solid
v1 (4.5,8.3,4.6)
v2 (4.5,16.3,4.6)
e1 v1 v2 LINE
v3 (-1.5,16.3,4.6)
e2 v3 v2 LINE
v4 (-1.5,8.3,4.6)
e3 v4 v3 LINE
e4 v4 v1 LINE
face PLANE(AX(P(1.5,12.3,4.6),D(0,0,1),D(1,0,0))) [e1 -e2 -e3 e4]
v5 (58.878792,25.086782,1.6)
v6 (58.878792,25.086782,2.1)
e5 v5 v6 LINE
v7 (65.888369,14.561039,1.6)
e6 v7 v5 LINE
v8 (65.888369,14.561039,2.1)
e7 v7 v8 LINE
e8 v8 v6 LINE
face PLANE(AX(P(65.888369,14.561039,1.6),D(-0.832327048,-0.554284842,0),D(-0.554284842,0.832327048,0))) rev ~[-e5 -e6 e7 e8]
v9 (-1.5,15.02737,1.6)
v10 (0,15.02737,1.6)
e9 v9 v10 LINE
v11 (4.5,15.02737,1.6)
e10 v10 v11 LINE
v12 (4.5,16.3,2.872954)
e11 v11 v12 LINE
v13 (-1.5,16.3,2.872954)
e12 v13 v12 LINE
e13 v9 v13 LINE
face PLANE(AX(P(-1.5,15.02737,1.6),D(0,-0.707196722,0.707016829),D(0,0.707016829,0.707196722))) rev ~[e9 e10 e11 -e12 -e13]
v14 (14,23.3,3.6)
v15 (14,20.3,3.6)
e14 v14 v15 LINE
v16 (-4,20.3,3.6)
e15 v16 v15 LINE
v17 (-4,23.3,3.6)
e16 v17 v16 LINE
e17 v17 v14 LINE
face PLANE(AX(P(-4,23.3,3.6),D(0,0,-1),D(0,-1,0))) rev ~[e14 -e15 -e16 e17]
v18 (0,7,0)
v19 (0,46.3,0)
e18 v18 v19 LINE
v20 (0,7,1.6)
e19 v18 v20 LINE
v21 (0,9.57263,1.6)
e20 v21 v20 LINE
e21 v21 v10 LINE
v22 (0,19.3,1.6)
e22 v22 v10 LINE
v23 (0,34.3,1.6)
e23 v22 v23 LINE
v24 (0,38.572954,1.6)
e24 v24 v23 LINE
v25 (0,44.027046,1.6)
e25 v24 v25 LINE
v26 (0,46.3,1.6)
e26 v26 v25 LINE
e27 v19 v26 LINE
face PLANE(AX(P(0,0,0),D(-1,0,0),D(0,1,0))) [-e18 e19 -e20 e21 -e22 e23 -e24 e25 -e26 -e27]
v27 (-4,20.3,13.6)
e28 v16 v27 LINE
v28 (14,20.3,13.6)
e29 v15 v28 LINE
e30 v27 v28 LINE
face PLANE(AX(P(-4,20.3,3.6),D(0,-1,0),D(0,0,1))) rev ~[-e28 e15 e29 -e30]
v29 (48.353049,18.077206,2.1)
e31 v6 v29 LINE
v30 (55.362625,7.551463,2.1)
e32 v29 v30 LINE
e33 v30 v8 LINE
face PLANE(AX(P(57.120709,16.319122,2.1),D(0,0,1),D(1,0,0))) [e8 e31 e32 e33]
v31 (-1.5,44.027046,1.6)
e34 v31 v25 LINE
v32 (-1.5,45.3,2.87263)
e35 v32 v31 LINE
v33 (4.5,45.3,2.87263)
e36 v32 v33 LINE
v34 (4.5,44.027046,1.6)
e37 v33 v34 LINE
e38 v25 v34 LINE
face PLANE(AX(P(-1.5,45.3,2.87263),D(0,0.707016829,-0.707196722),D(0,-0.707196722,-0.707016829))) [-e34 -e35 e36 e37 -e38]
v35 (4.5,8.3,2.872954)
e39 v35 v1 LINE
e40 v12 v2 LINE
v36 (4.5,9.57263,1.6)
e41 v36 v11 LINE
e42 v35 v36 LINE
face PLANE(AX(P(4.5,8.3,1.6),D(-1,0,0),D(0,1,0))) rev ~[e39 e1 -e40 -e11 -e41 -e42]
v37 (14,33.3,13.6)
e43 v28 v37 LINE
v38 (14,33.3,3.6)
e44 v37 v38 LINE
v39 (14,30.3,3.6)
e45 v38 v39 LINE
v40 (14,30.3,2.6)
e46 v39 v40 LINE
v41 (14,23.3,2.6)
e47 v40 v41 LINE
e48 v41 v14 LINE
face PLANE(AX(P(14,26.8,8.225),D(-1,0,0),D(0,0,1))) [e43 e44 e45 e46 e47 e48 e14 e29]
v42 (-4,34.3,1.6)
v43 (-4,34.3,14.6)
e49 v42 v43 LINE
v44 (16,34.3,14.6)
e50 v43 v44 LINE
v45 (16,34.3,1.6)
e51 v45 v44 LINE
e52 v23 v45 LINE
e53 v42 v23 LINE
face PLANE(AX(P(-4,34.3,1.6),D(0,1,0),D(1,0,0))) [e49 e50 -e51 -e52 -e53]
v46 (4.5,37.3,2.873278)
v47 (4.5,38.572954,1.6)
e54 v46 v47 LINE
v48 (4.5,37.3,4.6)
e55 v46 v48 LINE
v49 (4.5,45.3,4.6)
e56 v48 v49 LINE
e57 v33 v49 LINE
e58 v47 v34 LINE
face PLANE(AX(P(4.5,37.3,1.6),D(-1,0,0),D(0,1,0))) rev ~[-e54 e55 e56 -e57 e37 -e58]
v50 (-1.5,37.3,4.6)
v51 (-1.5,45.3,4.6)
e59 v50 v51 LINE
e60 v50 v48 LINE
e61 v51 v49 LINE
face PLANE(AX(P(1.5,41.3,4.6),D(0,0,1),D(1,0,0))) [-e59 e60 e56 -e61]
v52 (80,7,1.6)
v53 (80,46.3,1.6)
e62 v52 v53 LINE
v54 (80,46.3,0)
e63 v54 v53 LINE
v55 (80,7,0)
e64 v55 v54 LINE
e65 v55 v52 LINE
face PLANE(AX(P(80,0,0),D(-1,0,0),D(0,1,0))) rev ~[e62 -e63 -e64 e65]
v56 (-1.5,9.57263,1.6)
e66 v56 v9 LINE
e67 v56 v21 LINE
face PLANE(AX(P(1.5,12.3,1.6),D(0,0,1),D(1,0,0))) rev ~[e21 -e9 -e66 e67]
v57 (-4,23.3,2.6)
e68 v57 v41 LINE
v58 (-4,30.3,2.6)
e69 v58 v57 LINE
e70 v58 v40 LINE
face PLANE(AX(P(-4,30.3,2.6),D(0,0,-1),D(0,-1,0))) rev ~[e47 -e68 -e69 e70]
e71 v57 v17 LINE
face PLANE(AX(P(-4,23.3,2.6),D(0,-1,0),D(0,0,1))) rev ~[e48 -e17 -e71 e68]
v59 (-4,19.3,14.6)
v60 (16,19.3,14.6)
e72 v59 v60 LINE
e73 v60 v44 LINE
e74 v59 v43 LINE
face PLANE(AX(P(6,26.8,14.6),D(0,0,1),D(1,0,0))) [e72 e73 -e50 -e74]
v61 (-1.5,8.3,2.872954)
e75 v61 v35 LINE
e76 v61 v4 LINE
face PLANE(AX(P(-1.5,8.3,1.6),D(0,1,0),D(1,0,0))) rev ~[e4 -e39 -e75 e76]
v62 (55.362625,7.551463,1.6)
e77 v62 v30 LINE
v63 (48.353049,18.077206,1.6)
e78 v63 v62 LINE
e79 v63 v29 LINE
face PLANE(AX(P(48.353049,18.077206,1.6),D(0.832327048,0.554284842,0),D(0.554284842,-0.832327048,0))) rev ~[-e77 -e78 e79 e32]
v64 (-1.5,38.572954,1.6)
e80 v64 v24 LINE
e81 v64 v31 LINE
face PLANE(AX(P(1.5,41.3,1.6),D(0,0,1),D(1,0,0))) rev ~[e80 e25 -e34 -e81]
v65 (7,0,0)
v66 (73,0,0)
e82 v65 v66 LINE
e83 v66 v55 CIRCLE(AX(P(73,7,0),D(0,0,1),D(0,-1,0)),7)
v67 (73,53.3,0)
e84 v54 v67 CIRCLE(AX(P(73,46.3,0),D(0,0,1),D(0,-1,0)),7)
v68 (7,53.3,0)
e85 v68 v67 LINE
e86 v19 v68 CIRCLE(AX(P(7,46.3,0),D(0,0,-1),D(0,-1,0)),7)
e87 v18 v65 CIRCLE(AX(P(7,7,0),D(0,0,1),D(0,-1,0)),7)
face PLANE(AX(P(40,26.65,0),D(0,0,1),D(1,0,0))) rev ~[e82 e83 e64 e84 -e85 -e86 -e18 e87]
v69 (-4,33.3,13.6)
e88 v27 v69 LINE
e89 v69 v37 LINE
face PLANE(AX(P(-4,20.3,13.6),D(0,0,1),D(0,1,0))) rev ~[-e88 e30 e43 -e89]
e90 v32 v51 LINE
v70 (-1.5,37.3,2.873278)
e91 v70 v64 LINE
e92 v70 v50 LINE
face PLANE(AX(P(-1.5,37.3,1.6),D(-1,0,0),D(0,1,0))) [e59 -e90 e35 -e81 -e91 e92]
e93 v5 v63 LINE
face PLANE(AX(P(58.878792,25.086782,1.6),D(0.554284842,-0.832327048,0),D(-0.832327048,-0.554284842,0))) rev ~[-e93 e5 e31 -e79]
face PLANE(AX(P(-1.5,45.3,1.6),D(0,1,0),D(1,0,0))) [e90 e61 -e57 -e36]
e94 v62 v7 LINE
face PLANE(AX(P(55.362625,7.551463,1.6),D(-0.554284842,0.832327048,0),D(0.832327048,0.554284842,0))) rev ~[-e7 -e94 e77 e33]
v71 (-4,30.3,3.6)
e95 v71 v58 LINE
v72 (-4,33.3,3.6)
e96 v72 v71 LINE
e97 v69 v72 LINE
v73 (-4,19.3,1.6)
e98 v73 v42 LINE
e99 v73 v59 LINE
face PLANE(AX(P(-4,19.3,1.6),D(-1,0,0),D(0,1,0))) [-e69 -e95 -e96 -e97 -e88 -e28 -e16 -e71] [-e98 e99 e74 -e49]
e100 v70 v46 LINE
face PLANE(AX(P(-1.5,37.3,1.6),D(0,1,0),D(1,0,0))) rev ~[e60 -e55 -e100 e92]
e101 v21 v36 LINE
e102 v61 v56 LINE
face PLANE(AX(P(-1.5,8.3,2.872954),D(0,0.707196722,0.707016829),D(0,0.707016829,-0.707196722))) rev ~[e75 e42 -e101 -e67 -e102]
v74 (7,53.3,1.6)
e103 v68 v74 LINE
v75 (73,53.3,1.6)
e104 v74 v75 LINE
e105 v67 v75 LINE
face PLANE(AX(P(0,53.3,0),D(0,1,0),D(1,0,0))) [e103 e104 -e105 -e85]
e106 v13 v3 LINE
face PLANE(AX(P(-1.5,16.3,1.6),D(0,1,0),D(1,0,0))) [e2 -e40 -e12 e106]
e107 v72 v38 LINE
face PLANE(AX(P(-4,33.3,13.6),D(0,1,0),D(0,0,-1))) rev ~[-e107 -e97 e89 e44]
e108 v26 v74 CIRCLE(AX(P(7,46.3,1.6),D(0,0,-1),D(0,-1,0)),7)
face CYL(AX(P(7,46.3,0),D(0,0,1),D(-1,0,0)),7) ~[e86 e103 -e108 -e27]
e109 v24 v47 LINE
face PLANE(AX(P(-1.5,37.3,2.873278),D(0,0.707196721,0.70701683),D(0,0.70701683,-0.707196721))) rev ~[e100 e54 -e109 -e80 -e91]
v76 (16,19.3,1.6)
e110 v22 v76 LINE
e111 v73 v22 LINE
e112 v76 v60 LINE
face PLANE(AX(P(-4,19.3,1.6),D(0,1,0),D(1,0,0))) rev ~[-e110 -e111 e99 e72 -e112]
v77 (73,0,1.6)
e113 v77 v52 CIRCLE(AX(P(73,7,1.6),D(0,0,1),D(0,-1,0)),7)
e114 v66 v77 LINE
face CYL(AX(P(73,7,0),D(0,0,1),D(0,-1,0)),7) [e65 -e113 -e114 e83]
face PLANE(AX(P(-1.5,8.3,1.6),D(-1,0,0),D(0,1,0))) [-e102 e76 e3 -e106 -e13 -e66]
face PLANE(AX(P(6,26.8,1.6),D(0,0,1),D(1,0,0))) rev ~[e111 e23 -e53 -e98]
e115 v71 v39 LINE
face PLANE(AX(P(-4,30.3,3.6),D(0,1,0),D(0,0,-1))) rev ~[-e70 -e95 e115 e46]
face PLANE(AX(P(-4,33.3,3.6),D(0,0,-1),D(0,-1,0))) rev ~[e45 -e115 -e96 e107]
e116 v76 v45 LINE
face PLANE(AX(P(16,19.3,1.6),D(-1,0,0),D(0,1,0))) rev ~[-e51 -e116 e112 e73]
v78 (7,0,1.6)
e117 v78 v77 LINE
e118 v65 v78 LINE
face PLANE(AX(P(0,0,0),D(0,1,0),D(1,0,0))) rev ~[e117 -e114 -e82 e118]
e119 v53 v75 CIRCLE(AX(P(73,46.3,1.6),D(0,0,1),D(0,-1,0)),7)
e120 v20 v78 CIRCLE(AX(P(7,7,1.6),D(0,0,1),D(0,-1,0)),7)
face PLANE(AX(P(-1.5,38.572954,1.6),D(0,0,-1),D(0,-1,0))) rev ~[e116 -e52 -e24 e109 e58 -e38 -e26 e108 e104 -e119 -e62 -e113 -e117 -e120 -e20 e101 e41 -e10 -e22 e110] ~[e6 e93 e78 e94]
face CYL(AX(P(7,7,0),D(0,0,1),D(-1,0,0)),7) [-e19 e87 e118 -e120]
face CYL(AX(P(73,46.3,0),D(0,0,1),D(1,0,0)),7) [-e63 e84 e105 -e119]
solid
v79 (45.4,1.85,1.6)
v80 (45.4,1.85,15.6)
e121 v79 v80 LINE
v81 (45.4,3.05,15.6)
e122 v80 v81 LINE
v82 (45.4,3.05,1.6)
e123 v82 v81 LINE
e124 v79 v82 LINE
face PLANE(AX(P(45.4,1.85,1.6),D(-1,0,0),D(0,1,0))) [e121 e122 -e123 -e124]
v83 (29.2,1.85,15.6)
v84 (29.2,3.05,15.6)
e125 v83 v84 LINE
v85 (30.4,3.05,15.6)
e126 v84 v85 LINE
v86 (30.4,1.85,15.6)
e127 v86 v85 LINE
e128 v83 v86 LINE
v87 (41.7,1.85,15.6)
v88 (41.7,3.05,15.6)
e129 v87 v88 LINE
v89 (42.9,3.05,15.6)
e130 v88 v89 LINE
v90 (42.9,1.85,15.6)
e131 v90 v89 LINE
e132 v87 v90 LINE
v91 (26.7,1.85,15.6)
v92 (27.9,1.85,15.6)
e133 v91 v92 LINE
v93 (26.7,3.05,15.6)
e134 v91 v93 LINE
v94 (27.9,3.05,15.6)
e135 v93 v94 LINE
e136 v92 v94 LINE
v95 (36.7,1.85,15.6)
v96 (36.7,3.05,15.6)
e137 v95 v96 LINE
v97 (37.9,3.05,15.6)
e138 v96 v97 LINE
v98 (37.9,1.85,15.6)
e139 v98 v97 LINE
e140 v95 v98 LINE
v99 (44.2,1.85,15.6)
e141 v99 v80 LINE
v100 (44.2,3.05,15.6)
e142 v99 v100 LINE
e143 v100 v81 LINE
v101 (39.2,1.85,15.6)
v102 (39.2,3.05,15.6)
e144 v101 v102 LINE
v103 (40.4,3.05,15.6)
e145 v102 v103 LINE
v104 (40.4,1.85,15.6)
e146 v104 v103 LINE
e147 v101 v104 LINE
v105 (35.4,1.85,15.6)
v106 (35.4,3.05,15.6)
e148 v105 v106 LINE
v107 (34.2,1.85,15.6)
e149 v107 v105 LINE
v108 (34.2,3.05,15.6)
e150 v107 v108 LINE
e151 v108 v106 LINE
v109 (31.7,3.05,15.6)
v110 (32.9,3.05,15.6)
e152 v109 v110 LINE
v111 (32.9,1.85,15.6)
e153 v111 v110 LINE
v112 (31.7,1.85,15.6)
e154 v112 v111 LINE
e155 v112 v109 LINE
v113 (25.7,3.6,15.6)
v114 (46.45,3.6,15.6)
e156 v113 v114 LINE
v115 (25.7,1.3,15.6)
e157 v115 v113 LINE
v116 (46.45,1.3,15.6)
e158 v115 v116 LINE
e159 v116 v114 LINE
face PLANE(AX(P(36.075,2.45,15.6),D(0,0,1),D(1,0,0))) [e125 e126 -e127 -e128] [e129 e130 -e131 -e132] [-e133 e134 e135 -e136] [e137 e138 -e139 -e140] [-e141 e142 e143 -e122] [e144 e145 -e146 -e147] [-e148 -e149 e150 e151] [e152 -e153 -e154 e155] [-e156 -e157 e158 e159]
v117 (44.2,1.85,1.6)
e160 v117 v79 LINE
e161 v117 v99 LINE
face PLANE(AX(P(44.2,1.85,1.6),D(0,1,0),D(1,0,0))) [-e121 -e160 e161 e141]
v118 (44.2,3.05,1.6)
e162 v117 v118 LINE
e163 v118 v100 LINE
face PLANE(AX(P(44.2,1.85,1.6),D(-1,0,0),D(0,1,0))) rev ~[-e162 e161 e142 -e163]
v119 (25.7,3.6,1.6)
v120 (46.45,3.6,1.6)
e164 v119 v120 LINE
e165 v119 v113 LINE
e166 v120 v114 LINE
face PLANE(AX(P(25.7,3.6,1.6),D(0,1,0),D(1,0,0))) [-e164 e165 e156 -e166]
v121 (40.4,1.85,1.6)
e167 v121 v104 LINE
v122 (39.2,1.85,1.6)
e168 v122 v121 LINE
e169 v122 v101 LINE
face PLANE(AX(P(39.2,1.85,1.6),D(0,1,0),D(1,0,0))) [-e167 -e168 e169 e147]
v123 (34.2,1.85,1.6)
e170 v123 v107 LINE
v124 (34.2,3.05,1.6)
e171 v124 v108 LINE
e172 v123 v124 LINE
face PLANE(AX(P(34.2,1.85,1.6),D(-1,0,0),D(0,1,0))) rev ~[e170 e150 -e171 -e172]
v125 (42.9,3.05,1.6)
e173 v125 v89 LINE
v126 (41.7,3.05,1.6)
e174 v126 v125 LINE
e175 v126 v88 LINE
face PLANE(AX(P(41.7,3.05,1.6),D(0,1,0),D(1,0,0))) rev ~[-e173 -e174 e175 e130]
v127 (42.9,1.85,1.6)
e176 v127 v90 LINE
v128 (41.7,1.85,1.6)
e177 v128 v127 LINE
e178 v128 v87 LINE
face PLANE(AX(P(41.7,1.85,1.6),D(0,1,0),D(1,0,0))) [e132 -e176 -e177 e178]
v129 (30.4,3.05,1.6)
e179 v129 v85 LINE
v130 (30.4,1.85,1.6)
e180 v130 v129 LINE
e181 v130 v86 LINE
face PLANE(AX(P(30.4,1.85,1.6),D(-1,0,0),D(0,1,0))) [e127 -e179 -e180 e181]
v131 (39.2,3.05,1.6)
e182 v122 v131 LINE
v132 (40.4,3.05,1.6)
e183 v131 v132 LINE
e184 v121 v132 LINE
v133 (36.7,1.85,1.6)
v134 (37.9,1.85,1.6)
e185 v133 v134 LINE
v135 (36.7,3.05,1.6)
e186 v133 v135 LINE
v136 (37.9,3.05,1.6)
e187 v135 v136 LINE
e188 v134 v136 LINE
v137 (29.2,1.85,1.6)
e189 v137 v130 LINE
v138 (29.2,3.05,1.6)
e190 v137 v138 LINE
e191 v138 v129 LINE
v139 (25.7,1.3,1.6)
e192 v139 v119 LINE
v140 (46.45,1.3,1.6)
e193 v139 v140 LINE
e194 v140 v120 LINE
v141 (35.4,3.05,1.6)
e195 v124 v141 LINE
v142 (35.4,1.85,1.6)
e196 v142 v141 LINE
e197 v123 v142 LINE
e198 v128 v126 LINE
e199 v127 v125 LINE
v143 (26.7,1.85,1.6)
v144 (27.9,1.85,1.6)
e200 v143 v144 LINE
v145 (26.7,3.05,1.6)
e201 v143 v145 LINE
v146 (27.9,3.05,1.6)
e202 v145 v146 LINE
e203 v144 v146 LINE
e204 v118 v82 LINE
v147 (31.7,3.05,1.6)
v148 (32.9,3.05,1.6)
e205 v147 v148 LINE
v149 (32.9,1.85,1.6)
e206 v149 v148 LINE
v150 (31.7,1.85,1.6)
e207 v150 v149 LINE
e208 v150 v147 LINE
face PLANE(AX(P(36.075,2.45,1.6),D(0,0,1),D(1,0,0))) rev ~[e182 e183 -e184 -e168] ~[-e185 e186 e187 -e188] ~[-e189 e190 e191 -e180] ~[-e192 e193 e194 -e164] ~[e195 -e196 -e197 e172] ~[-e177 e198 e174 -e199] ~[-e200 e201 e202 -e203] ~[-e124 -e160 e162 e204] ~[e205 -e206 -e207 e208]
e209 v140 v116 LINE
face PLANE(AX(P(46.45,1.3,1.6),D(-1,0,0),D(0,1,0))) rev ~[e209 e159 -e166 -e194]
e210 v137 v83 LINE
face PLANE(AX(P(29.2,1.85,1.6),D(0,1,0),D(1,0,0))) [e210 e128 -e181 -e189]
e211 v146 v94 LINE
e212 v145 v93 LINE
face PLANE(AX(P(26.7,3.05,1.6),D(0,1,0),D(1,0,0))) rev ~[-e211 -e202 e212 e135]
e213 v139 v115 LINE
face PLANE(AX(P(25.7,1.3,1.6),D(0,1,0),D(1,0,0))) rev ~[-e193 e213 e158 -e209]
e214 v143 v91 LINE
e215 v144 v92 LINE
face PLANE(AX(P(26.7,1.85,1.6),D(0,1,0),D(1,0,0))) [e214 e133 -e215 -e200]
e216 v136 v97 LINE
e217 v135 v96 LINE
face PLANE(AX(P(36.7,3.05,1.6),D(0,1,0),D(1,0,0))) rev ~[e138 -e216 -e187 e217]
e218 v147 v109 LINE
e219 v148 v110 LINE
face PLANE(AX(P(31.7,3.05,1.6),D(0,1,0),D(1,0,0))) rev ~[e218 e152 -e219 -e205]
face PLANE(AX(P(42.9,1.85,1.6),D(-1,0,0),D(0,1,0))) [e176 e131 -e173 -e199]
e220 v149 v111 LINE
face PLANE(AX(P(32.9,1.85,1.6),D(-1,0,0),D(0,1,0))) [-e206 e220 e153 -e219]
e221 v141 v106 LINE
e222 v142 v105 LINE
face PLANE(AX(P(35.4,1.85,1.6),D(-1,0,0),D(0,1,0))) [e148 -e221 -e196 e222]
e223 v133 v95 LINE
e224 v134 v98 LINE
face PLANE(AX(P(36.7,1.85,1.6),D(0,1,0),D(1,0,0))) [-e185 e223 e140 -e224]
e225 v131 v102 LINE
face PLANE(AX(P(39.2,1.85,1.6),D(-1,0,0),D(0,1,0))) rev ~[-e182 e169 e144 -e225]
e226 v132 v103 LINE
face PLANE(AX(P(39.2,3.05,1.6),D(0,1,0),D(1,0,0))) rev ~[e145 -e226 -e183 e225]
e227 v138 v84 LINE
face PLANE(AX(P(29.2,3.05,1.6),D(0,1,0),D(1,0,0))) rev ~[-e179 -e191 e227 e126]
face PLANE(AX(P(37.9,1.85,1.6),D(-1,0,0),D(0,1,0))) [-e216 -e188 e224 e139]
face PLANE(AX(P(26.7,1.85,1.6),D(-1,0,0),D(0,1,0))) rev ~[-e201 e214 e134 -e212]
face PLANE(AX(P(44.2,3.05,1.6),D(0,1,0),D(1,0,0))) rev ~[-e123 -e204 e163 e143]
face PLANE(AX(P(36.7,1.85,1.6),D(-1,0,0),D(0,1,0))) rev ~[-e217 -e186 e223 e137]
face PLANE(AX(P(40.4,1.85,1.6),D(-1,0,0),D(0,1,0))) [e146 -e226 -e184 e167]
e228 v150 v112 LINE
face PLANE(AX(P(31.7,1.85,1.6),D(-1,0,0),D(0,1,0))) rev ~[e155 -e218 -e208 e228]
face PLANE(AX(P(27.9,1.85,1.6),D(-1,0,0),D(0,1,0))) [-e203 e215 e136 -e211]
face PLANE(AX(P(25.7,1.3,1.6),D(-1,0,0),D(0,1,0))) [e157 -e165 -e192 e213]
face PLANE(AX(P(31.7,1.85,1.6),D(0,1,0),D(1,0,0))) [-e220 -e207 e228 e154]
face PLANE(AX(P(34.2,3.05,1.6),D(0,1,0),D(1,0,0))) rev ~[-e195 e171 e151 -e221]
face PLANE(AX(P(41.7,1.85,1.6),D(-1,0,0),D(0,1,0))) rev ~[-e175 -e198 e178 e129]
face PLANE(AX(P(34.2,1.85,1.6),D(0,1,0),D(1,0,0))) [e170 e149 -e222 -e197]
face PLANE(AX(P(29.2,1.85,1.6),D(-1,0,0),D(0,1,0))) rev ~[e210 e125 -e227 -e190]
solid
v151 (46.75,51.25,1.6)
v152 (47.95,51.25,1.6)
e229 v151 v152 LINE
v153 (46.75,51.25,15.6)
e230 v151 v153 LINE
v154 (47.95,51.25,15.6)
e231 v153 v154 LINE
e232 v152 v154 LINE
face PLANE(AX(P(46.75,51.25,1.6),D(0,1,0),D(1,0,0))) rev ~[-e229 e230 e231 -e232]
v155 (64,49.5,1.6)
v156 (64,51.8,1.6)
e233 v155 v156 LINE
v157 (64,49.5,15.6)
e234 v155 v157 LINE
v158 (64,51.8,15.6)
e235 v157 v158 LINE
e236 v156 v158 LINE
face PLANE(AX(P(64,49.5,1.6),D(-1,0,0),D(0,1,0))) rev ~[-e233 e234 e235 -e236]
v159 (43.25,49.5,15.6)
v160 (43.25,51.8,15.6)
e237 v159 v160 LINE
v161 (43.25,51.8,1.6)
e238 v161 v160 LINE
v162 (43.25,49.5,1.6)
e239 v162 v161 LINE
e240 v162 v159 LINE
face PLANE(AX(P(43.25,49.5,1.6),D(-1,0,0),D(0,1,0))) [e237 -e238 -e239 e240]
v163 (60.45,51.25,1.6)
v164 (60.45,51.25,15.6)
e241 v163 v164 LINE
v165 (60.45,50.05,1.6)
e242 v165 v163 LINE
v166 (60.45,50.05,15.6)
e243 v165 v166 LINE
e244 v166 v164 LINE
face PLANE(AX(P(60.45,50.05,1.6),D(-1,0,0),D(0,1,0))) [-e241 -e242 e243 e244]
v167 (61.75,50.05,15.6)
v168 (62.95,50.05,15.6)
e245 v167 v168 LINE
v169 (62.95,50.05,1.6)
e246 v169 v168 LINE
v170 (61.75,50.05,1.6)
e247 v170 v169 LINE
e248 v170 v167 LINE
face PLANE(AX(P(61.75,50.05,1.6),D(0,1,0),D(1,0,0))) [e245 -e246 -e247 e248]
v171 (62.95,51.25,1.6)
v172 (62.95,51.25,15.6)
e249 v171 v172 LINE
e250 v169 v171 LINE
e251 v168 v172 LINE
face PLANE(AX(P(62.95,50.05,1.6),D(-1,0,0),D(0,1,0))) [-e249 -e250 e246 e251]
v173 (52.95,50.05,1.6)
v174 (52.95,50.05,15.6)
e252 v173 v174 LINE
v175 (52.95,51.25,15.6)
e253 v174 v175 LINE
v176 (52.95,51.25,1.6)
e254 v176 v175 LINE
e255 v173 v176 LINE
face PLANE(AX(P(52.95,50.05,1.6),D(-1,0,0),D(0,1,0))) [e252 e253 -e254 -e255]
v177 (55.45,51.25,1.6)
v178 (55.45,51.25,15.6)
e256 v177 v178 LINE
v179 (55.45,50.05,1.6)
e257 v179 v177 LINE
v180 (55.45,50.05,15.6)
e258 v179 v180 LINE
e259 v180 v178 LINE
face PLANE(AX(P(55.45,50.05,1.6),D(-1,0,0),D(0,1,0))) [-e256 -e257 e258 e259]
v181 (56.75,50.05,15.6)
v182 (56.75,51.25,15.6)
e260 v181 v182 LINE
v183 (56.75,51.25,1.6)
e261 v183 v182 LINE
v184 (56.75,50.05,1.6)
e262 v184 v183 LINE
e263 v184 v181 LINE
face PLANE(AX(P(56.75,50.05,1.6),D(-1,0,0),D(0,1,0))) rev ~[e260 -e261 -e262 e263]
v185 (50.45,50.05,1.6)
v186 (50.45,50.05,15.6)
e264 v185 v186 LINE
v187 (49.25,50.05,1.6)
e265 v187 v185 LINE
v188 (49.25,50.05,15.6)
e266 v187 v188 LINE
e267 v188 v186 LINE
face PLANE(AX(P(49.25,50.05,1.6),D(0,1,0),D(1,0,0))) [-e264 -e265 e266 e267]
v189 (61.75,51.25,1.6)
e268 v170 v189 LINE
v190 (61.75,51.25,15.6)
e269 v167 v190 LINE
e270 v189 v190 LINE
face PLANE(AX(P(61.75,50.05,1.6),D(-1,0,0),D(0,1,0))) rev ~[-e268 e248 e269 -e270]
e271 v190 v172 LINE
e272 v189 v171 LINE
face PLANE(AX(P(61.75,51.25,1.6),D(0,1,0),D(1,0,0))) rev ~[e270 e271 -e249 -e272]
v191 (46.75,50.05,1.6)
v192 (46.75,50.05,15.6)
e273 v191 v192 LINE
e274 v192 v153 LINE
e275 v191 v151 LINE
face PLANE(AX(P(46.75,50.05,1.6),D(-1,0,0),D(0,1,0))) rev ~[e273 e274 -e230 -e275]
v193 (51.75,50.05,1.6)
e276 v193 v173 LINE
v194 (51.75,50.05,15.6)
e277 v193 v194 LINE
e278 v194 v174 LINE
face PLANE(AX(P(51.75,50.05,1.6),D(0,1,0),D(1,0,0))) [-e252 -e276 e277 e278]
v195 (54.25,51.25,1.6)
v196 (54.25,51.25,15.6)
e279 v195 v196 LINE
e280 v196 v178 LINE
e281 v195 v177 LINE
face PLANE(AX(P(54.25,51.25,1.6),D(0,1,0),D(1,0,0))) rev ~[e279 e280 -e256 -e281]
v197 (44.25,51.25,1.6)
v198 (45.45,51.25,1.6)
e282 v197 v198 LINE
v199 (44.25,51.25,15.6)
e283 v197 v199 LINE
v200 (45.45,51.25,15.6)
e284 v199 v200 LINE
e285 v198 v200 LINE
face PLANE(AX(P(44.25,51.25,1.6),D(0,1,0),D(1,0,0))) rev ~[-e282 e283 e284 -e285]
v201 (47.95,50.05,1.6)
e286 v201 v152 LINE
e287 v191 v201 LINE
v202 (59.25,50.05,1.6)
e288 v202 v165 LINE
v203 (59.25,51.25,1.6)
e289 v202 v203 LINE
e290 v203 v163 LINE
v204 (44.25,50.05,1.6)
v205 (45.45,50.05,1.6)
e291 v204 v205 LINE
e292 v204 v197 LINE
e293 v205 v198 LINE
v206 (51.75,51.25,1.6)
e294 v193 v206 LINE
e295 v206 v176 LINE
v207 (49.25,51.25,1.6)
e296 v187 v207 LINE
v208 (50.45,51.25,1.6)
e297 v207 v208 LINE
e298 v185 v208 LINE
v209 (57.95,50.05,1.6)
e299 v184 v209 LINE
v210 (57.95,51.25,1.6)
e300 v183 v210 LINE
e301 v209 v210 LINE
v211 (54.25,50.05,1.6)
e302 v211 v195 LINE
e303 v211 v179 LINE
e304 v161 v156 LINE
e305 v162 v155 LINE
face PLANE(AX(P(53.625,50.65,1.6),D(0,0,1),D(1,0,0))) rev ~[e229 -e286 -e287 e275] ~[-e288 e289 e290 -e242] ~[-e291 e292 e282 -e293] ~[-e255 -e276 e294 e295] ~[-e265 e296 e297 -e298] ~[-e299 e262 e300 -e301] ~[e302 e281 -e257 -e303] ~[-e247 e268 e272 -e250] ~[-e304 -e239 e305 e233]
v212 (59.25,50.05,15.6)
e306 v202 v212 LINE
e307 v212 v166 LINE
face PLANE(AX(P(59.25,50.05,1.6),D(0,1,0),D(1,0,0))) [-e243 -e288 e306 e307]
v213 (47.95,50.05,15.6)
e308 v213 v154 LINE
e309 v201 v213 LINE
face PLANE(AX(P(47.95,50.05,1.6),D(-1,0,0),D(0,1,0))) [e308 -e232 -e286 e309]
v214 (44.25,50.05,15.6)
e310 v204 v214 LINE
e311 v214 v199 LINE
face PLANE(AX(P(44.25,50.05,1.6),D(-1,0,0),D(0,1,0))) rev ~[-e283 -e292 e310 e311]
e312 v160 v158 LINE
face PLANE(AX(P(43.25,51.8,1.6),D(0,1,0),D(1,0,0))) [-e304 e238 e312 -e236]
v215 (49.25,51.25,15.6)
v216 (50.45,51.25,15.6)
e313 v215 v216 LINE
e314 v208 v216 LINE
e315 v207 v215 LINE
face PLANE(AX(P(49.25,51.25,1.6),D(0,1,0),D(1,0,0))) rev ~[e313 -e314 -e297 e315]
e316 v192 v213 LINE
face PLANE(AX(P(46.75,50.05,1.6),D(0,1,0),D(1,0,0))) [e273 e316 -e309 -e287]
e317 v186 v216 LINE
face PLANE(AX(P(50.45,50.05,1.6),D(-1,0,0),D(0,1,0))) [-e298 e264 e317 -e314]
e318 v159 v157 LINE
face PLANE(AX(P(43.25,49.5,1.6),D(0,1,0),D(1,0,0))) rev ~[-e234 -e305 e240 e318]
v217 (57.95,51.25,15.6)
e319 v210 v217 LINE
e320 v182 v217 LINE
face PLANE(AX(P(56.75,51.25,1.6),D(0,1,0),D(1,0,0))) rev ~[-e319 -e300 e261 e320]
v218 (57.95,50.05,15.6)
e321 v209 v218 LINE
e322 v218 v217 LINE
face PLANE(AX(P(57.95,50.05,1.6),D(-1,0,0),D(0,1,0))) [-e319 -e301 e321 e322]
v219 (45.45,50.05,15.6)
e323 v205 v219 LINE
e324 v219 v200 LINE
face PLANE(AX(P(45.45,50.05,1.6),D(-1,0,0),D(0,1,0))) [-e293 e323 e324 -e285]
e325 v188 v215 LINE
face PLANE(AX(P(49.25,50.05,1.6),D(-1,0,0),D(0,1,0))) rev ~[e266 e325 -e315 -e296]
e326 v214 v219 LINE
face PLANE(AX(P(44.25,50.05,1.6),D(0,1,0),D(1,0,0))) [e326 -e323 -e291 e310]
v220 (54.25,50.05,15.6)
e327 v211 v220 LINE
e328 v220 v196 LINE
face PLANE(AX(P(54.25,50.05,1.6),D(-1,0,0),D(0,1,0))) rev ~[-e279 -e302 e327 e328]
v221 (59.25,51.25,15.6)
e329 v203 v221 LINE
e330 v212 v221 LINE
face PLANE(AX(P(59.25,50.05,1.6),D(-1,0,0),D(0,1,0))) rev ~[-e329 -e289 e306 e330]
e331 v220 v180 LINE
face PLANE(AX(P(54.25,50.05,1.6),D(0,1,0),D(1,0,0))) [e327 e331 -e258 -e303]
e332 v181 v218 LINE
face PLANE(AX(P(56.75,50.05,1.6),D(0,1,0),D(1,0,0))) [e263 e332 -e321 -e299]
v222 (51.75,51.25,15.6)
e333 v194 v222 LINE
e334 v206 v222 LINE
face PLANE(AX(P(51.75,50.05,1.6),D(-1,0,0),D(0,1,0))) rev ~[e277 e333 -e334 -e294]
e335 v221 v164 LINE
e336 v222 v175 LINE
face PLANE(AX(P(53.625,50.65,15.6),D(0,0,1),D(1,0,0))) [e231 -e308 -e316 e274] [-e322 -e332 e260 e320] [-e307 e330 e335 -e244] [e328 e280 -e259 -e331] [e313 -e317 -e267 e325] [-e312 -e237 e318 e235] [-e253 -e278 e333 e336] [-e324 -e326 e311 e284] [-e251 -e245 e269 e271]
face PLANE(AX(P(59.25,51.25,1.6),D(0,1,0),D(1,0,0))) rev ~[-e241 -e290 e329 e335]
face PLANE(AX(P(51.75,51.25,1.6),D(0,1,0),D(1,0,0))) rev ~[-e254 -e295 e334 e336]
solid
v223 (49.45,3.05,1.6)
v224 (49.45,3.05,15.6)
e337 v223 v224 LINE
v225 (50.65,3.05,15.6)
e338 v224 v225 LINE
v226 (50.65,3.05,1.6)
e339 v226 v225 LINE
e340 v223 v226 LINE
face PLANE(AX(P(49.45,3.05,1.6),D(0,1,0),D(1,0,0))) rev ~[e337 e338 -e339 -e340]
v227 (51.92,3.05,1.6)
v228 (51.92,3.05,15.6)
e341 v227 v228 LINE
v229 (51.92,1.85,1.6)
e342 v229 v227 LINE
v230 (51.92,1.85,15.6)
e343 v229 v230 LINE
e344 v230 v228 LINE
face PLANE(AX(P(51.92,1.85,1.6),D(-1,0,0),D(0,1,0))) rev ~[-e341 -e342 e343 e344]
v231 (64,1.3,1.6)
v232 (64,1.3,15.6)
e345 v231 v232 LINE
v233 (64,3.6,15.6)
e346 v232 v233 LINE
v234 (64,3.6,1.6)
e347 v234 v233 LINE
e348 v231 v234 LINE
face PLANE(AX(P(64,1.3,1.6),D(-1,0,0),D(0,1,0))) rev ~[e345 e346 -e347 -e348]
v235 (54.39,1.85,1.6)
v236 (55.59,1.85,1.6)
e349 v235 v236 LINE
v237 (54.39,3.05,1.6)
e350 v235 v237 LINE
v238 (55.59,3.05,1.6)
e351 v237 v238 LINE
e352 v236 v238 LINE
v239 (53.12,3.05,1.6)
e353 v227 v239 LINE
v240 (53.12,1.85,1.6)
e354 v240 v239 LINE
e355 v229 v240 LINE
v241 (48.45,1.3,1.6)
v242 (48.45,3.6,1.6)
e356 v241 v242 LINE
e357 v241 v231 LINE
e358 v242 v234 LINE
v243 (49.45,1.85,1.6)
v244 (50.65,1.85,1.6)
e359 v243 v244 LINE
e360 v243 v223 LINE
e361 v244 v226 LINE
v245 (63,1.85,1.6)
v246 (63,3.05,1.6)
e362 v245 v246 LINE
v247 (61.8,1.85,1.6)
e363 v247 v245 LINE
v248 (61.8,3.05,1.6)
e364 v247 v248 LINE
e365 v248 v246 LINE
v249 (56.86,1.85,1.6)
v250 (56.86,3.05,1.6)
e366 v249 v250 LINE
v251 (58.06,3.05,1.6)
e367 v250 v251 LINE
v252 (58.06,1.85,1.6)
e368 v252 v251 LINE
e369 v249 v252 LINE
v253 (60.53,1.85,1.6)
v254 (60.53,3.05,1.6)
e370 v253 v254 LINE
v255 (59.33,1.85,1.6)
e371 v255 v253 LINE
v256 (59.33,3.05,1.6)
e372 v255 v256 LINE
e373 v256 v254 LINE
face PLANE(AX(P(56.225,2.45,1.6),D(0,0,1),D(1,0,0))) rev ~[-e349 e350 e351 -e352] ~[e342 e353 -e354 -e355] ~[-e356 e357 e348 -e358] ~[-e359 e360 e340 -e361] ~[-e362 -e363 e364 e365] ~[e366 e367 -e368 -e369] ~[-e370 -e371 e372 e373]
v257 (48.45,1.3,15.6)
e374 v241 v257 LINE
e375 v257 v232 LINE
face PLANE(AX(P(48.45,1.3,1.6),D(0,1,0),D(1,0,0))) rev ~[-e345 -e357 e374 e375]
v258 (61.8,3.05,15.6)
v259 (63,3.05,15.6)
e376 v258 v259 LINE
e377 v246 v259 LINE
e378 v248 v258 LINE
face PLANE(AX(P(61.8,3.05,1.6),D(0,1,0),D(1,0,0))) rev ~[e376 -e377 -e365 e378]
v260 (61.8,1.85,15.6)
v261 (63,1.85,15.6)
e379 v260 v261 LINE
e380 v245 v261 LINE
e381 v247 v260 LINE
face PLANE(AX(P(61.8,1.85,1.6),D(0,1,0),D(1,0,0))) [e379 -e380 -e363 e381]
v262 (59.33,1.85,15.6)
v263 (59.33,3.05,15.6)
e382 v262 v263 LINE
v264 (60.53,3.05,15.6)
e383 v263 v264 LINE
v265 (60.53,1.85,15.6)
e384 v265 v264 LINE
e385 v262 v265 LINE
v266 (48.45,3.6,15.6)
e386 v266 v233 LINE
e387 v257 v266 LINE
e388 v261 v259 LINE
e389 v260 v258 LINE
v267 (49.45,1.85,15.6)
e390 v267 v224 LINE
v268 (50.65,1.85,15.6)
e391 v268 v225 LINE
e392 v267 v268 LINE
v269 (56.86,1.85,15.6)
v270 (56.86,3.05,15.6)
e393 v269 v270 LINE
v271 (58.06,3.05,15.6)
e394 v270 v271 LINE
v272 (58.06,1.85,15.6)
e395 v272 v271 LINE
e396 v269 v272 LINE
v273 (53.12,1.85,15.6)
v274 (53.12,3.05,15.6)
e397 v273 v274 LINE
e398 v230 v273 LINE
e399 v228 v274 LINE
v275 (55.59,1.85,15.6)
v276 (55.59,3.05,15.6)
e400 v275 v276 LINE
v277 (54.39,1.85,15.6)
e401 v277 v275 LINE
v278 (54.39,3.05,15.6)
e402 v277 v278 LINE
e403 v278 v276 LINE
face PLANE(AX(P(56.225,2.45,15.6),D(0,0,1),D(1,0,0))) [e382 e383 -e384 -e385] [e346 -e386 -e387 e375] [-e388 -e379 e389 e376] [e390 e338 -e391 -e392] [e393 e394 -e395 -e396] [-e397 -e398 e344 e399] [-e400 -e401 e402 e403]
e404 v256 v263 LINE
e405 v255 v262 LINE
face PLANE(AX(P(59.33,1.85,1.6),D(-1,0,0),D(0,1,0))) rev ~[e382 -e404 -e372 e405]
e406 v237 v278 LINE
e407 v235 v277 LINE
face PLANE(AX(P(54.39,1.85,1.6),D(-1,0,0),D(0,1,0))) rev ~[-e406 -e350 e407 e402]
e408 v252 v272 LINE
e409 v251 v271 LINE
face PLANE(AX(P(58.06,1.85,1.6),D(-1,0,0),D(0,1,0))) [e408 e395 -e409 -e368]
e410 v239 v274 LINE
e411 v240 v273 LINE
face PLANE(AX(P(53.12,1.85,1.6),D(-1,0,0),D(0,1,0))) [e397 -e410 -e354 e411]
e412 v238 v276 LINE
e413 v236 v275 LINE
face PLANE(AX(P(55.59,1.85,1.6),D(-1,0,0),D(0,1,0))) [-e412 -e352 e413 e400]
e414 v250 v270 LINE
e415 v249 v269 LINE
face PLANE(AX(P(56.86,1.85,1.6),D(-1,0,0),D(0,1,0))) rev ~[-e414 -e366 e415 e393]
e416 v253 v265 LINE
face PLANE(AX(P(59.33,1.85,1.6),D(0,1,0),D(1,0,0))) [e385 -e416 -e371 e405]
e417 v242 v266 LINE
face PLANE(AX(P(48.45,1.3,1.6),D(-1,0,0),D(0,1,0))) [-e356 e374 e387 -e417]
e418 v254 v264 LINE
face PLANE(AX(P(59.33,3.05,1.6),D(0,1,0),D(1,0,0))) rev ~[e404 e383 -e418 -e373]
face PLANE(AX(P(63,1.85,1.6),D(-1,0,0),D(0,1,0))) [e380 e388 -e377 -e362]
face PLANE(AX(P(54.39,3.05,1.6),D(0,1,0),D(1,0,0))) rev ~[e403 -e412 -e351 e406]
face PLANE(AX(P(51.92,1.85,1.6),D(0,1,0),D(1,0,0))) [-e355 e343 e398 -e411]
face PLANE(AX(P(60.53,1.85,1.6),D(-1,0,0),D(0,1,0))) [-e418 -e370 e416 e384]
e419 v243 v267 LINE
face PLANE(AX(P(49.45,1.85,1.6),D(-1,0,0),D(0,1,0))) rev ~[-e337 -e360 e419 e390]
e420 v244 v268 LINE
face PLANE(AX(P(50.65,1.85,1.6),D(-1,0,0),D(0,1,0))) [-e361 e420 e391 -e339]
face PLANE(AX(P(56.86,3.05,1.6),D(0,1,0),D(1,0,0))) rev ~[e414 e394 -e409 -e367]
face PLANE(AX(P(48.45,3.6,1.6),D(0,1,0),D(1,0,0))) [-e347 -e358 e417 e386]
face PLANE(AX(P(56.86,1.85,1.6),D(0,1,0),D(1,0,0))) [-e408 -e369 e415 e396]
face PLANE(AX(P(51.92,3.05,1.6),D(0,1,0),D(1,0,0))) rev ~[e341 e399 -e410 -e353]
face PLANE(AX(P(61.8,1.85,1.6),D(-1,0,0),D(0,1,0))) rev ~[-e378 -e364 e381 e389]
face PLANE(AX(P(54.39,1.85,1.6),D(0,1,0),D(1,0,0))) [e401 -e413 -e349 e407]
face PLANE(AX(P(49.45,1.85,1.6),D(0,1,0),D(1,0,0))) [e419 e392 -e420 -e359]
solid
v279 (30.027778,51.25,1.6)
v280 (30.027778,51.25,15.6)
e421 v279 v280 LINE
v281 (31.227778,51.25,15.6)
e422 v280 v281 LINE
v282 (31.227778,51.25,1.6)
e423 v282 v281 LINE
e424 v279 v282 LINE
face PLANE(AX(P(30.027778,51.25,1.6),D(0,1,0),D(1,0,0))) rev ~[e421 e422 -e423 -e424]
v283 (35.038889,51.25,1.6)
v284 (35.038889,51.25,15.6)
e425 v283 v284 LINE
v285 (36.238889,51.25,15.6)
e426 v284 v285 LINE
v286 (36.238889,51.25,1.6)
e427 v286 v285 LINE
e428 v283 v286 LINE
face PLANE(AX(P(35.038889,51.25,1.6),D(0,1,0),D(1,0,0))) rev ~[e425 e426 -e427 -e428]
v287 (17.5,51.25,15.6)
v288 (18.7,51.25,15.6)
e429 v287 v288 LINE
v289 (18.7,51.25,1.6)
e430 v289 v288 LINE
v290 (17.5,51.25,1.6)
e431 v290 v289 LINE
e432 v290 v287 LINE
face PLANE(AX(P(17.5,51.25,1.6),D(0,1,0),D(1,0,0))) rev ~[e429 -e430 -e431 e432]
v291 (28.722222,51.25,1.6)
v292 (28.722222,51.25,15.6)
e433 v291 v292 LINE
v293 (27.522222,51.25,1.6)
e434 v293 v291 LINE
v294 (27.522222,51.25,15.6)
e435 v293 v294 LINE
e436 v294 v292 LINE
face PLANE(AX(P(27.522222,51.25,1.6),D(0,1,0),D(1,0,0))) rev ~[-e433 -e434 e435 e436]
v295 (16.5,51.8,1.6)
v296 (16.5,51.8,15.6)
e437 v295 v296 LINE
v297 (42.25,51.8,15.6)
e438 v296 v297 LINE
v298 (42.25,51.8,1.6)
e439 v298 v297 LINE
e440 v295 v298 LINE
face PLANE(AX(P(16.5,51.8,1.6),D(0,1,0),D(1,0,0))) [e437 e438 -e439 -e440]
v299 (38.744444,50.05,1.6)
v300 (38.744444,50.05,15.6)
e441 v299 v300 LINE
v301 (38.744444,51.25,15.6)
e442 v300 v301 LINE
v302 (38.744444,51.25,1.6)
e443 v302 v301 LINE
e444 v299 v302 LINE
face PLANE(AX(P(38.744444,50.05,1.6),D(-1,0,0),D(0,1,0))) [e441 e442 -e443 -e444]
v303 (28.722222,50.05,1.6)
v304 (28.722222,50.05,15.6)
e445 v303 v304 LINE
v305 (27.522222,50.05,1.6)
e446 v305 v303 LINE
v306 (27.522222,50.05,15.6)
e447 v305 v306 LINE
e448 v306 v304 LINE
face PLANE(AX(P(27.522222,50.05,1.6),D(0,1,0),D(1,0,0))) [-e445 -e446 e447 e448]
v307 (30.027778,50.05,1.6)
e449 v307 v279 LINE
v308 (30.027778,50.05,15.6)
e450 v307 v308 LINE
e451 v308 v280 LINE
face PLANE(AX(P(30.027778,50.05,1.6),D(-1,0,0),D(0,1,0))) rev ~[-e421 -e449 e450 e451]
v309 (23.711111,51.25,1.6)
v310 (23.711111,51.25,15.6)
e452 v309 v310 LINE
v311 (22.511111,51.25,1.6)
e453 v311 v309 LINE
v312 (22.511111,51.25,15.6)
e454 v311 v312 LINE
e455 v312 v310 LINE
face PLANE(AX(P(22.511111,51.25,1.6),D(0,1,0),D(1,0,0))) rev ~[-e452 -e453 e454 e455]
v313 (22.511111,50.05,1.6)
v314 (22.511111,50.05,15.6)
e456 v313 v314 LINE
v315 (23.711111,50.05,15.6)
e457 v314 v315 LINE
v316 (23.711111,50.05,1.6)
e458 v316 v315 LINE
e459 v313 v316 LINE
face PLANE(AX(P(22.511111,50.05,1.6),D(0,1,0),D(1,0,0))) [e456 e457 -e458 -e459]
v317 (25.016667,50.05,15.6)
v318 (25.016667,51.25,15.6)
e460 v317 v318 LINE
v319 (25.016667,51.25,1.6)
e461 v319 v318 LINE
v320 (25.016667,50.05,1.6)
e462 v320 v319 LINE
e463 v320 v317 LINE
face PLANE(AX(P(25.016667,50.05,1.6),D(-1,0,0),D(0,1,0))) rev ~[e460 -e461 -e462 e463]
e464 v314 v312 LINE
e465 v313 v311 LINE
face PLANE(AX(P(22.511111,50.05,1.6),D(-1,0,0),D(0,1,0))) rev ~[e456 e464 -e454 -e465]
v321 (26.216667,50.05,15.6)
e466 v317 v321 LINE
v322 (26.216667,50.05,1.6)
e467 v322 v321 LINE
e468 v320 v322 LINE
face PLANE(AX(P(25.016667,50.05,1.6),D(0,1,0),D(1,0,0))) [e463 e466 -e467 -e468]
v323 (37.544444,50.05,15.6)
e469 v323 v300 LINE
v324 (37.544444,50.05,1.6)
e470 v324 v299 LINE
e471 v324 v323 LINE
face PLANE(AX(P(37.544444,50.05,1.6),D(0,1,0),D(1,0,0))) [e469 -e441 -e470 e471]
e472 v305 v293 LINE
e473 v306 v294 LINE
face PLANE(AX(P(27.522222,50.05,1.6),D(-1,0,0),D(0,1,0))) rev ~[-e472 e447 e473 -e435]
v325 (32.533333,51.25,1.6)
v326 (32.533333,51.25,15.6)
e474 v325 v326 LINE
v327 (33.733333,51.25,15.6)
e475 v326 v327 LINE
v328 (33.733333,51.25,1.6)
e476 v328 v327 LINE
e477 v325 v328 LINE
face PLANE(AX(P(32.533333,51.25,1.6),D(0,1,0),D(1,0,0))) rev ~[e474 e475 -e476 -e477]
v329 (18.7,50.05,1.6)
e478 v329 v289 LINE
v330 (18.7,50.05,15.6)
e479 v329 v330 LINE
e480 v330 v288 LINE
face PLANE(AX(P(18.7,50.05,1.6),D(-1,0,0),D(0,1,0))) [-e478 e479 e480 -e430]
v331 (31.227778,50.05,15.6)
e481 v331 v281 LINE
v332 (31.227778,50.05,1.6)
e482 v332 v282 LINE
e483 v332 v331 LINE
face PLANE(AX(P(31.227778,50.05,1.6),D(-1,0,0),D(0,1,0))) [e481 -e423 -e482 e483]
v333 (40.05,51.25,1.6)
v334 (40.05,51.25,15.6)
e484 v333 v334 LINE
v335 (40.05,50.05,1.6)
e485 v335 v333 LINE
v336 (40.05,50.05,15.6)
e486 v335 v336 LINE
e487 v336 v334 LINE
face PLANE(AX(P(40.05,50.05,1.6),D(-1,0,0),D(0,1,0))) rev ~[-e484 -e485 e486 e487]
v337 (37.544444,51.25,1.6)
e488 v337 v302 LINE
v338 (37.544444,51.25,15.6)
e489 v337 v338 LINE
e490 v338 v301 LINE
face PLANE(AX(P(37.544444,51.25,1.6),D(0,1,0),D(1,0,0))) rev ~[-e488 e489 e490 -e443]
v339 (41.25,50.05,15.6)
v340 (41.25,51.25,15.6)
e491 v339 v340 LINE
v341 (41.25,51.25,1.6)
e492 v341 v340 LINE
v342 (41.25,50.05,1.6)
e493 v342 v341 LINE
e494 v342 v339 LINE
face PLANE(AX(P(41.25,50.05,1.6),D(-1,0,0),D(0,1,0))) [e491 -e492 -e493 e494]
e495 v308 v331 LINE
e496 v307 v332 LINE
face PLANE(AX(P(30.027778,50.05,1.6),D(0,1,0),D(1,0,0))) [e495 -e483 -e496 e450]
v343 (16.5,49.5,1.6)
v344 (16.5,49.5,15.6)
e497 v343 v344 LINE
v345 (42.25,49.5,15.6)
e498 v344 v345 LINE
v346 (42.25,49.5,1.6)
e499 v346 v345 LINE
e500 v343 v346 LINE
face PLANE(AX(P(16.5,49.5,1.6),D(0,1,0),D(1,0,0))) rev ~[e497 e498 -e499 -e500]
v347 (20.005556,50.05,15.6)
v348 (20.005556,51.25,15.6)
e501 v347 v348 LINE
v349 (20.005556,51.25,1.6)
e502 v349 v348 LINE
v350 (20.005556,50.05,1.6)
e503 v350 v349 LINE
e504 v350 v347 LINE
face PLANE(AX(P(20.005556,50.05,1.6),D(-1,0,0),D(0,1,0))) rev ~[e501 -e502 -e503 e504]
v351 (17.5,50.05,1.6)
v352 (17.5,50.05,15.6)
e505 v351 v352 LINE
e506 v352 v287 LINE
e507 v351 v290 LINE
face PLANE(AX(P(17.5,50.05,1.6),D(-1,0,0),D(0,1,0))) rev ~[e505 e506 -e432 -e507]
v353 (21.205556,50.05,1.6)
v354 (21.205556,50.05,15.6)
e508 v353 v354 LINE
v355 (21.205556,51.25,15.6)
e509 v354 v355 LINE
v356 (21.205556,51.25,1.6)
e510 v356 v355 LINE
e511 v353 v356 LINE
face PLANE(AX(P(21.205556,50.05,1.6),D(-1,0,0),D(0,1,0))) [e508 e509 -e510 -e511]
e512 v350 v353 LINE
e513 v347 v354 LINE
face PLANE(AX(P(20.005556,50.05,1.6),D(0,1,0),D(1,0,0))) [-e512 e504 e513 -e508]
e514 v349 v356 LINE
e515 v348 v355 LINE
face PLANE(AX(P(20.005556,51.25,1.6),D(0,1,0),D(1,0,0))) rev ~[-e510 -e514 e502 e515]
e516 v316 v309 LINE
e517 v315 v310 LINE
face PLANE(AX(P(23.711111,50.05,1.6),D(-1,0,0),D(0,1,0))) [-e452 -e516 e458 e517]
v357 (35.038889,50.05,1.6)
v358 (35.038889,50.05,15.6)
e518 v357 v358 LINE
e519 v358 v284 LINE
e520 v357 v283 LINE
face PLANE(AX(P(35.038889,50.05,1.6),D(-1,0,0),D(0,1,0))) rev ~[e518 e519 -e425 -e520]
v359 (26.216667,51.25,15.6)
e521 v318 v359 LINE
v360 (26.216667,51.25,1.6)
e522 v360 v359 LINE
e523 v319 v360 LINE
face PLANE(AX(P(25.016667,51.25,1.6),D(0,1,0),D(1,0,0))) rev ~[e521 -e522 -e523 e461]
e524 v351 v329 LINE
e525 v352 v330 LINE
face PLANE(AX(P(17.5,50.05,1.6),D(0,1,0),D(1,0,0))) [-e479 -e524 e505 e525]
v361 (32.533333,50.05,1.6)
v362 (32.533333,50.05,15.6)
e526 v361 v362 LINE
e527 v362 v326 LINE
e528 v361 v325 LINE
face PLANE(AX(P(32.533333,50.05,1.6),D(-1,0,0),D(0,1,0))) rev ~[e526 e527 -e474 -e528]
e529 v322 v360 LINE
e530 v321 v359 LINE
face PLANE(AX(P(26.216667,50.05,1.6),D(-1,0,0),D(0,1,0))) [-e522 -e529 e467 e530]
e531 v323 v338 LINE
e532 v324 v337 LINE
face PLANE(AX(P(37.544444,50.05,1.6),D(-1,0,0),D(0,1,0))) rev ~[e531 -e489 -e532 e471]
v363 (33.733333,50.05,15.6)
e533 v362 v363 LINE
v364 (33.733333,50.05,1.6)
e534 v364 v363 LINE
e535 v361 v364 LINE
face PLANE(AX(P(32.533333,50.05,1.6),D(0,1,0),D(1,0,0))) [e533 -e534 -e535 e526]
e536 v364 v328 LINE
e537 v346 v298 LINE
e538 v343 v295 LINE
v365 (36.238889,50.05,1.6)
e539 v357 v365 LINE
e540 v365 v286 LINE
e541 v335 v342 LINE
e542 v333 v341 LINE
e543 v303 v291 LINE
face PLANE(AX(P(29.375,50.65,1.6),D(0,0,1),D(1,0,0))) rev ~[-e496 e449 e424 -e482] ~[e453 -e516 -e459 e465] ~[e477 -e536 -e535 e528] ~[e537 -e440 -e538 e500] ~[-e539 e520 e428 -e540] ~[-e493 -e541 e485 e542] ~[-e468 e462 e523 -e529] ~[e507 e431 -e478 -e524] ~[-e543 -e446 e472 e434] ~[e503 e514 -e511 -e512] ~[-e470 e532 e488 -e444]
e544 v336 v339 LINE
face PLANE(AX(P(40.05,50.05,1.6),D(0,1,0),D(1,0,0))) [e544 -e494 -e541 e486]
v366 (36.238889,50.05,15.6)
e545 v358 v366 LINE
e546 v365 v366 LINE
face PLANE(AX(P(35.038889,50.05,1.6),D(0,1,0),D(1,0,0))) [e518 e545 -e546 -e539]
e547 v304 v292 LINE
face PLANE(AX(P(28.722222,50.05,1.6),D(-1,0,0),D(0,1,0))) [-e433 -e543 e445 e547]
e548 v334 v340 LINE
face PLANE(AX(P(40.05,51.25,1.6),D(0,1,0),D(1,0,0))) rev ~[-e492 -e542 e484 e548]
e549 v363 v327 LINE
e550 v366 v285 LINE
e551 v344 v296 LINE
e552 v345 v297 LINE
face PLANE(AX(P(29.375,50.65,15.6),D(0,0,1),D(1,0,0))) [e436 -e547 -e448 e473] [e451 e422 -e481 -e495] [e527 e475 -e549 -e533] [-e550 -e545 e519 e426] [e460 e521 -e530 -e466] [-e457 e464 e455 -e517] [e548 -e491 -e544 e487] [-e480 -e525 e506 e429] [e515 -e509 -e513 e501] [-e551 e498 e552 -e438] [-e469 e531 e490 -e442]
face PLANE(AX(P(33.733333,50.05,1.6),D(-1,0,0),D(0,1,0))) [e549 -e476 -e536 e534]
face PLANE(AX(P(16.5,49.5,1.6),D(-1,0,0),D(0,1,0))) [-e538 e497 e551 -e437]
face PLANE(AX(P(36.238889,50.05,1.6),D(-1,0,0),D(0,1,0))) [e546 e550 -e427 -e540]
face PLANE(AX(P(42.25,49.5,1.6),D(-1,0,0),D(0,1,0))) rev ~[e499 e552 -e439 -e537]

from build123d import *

# Parameters (mm, degrees)
ESQUISSE1_W         = 80
ESQUISSE1_H         = 53.3
BOSS_EXTRU_1_DEPTH  = 1.6
ESQUISSE4_W         = 15.55
ESQUISSE4_H         = 2.3
ESQUISSE4_W_2       = 1.2
ESQUISSE4_H_2       = 1.2
BOSS_EXTRU_4_DEPTH  = 14
ESQUISSE8_W         = 20.75
ESQUISSE8_H         = 2.3
ESQUISSE8_W_2       = 1.2
ESQUISSE8_H_2       = 1.2
BOSS_EXTRU_6_DEPTH  = 14
ESQUISSE19_W        = 20.75
ESQUISSE19_H        = 2.3
ESQUISSE19_W_2      = 1.2
ESQUISSE19_H_2      = 1.2
BOSS_EXTRU_15_DEPTH = 14
ESQUISSE20_W        = 25.75
ESQUISSE20_H        = 2.3
ESQUISSE20_W_2      = 1.2
ESQUISSE20_H_2      = 1.2
BOSS_EXTRU_16_DEPTH = 14
FILLET1_R           = 7
BOSS_EXTRUDE1_DEPTH = 0.5
SKETCH2_W           = 20
SKETCH2_H           = 15
BOSS_EXTRUDE2_DEPTH = 13
SKETCH3_W           = 6
SKETCH3_H           = 8
BOSS_EXTRUDE3_DEPTH = 3
CUT_EXTRUDE1_DEPTH  = 6
CUT_EXTRUDE2_DEPTH  = 18


with BuildPart() as part:
    # Esquisse1 → Boss.-Extru.1 (new body)
    with BuildSketch(Plane.XY):
        with Locations((40, 26.65)):
            Rectangle(ESQUISSE1_W, ESQUISSE1_H)
    extrude(amount=BOSS_EXTRU_1_DEPTH)

    # Fillet1
    fillet1_edges = [part.edges().sort_by_distance(p)[0] for p in [
        (0, 0, 0.8),
        (0, 53.3, 0.8),
        (80, 53.3, 0.8),
        (80, 0, 0.8),
    ]]
    fillet(fillet1_edges, radius=FILLET1_R)

    # Sketch1 → Boss-Extrude1 (add)
    with BuildSketch(Plane.XY.offset(1.6)):
        Polygon((55.362625471, 7.551462799), (65.888368636, 14.561039023), (58.878792412, 25.086782188), (48.353049247, 18.077205964), align=None)
    extrude(amount=BOSS_EXTRUDE1_DEPTH)

    # Sketch2 → Boss-Extrude2 (add)
    with BuildSketch(Plane.XY.offset(1.6)):
        with Locations((6, 26.8)):
            Rectangle(SKETCH2_W, SKETCH2_H)
    extrude(amount=BOSS_EXTRUDE2_DEPTH)

    # Sketch3 → Boss-Extrude3 (add)
    with BuildSketch(Plane.XY.offset(1.6)):
        with Locations((1.5, 41.3)):
            Rectangle(SKETCH3_W, SKETCH3_H)
        with Locations((1.5, 12.3)):
            Rectangle(SKETCH3_W, SKETCH3_H)
    extrude(amount=BOSS_EXTRUDE3_DEPTH)

    # Sketch4 → Cut-Extrude1 (cut)
    with BuildSketch(Plane.ZY.offset(1.5)):
        Polygon((2.872954099, 8.3), (1.6, 9.572630293), (1.6, 8.3), align=None)
        Polygon((2.872954099, 16.3), (1.6, 16.3), (1.6, 15.027369707), align=None)
        Polygon((2.873277986, 37.3), (1.6, 38.572954099), (1.6, 37.3), align=None)
        Polygon((2.872630293, 45.3), (1.6, 44.027045901), (1.6, 45.3), align=None)
    extrude(amount=-CUT_EXTRUDE1_DEPTH, mode=Mode.SUBTRACT)

    # Sketch5 → Cut-Extrude2 (cut)
    with BuildSketch(Plane.ZY.offset(4)):
        Polygon((13.6, 33.3), (3.6, 33.3), (3.6, 30.3), (2.6, 30.3), (2.6, 23.3), (3.6, 23.3), (3.6, 20.3), (13.6, 20.3), align=None)
    extrude(amount=-CUT_EXTRUDE2_DEPTH, mode=Mode.SUBTRACT)


with BuildPart() as body_2:
    # Esquisse4 → Boss.-Extru.4 (new body)
    with BuildSketch(Plane.XY.offset(1.6)):
        with Locations((56.225, 2.45)):
            Rectangle(ESQUISSE4_W, ESQUISSE4_H)
        with Locations((50.05, 2.45)):
            Rectangle(ESQUISSE4_W_2, ESQUISSE4_H_2, mode=Mode.SUBTRACT)
        with Locations((52.52, 2.45)):
            Rectangle(ESQUISSE4_W_2, ESQUISSE4_H_2, mode=Mode.SUBTRACT)
        with Locations((54.99, 2.45)):
            Rectangle(ESQUISSE4_W_2, ESQUISSE4_H_2, mode=Mode.SUBTRACT)
        with Locations((57.46, 2.45)):
            Rectangle(ESQUISSE4_W_2, ESQUISSE4_H_2, mode=Mode.SUBTRACT)
        with Locations((59.93, 2.45)):
            Rectangle(ESQUISSE4_W_2, ESQUISSE4_H_2, mode=Mode.SUBTRACT)
        with Locations((62.4, 2.45)):
            Rectangle(ESQUISSE4_W_2, ESQUISSE4_H_2, mode=Mode.SUBTRACT)
    extrude(amount=BOSS_EXTRU_4_DEPTH)


with BuildPart() as body_3:
    # Esquisse8 → Boss.-Extru.6 (new body)
    with BuildSketch(Plane.XY.offset(1.6)):
        with Locations((36.075, 2.45)):
            Rectangle(ESQUISSE8_W, ESQUISSE8_H)
        with Locations((27.3, 2.45)):
            Rectangle(ESQUISSE8_W_2, ESQUISSE8_H_2, mode=Mode.SUBTRACT)
        with Locations((29.8, 2.45)):
            Rectangle(ESQUISSE8_W_2, ESQUISSE8_H_2, mode=Mode.SUBTRACT)
        with Locations((32.3, 2.45)):
            Rectangle(ESQUISSE8_W_2, ESQUISSE8_H_2, mode=Mode.SUBTRACT)
        with Locations((34.8, 2.45)):
            Rectangle(ESQUISSE8_W_2, ESQUISSE8_H_2, mode=Mode.SUBTRACT)
        with Locations((37.3, 2.45)):
            Rectangle(ESQUISSE8_W_2, ESQUISSE8_H_2, mode=Mode.SUBTRACT)
        with Locations((39.8, 2.45)):
            Rectangle(ESQUISSE8_W_2, ESQUISSE8_H_2, mode=Mode.SUBTRACT)
        with Locations((42.3, 2.45)):
            Rectangle(ESQUISSE8_W_2, ESQUISSE8_H_2, mode=Mode.SUBTRACT)
        with Locations((44.8, 2.45)):
            Rectangle(ESQUISSE8_W_2, ESQUISSE8_H_2, mode=Mode.SUBTRACT)
    extrude(amount=BOSS_EXTRU_6_DEPTH)


with BuildPart() as body_4:
    # Esquisse19 → Boss.-Extru.15 (new body)
    with BuildSketch(Plane.XY.offset(1.6)):
        with Locations((53.625, 50.65)):
            Rectangle(ESQUISSE19_W, ESQUISSE19_H)
        with Locations((44.85, 50.65)):
            Rectangle(ESQUISSE19_W_2, ESQUISSE19_H_2, mode=Mode.SUBTRACT)
        with Locations((47.35, 50.65)):
            Rectangle(ESQUISSE19_W_2, ESQUISSE19_H_2, mode=Mode.SUBTRACT)
        with Locations((49.85, 50.65)):
            Rectangle(ESQUISSE19_W_2, ESQUISSE19_H_2, mode=Mode.SUBTRACT)
        with Locations((52.35, 50.65)):
            Rectangle(ESQUISSE19_W_2, ESQUISSE19_H_2, mode=Mode.SUBTRACT)
        with Locations((54.85, 50.65)):
            Rectangle(ESQUISSE19_W_2, ESQUISSE19_H_2, mode=Mode.SUBTRACT)
        with Locations((57.35, 50.65)):
            Rectangle(ESQUISSE19_W_2, ESQUISSE19_H_2, mode=Mode.SUBTRACT)
        with Locations((59.85, 50.65)):
            Rectangle(ESQUISSE19_W_2, ESQUISSE19_H_2, mode=Mode.SUBTRACT)
        with Locations((62.35, 50.65)):
            Rectangle(ESQUISSE19_W_2, ESQUISSE19_H_2, mode=Mode.SUBTRACT)
    extrude(amount=BOSS_EXTRU_15_DEPTH)


with BuildPart() as body_5:
    # Esquisse20 → Boss.-Extru.16 (new body)
    with BuildSketch(Plane.XY.offset(1.6)):
        with Locations((29.375, 50.65)):
            Rectangle(ESQUISSE20_W, ESQUISSE20_H)
        with Locations((40.65, 50.65)):
            Rectangle(ESQUISSE20_W_2, ESQUISSE20_H_2, mode=Mode.SUBTRACT)
        with Locations((38.144444444, 50.65)):
            Rectangle(ESQUISSE20_W_2, ESQUISSE20_H_2, mode=Mode.SUBTRACT)
        with Locations((35.638888889, 50.65)):
            Rectangle(ESQUISSE20_W_2, ESQUISSE20_H_2, mode=Mode.SUBTRACT)
        with Locations((33.133333333, 50.65)):
            Rectangle(ESQUISSE20_W_2, ESQUISSE20_H_2, mode=Mode.SUBTRACT)
        with Locations((30.627777778, 50.65)):
            Rectangle(ESQUISSE20_W_2, ESQUISSE20_H_2, mode=Mode.SUBTRACT)
        with Locations((28.122222222, 50.65)):
            Rectangle(ESQUISSE20_W_2, ESQUISSE20_H_2, mode=Mode.SUBTRACT)
        with Locations((25.616666667, 50.65)):
            Rectangle(ESQUISSE20_W_2, ESQUISSE20_H_2, mode=Mode.SUBTRACT)
        with Locations((23.111111111, 50.65)):
            Rectangle(ESQUISSE20_W_2, ESQUISSE20_H_2, mode=Mode.SUBTRACT)
        with Locations((20.605555556, 50.65)):
            Rectangle(ESQUISSE20_W_2, ESQUISSE20_H_2, mode=Mode.SUBTRACT)
        with Locations((18.1, 50.65)):
            Rectangle(ESQUISSE20_W_2, ESQUISSE20_H_2, mode=Mode.SUBTRACT)
    extrude(amount=BOSS_EXTRU_16_DEPTH)


solid = Compound([part.part, body_2.part, body_3.part, body_4.part, body_5.part])
